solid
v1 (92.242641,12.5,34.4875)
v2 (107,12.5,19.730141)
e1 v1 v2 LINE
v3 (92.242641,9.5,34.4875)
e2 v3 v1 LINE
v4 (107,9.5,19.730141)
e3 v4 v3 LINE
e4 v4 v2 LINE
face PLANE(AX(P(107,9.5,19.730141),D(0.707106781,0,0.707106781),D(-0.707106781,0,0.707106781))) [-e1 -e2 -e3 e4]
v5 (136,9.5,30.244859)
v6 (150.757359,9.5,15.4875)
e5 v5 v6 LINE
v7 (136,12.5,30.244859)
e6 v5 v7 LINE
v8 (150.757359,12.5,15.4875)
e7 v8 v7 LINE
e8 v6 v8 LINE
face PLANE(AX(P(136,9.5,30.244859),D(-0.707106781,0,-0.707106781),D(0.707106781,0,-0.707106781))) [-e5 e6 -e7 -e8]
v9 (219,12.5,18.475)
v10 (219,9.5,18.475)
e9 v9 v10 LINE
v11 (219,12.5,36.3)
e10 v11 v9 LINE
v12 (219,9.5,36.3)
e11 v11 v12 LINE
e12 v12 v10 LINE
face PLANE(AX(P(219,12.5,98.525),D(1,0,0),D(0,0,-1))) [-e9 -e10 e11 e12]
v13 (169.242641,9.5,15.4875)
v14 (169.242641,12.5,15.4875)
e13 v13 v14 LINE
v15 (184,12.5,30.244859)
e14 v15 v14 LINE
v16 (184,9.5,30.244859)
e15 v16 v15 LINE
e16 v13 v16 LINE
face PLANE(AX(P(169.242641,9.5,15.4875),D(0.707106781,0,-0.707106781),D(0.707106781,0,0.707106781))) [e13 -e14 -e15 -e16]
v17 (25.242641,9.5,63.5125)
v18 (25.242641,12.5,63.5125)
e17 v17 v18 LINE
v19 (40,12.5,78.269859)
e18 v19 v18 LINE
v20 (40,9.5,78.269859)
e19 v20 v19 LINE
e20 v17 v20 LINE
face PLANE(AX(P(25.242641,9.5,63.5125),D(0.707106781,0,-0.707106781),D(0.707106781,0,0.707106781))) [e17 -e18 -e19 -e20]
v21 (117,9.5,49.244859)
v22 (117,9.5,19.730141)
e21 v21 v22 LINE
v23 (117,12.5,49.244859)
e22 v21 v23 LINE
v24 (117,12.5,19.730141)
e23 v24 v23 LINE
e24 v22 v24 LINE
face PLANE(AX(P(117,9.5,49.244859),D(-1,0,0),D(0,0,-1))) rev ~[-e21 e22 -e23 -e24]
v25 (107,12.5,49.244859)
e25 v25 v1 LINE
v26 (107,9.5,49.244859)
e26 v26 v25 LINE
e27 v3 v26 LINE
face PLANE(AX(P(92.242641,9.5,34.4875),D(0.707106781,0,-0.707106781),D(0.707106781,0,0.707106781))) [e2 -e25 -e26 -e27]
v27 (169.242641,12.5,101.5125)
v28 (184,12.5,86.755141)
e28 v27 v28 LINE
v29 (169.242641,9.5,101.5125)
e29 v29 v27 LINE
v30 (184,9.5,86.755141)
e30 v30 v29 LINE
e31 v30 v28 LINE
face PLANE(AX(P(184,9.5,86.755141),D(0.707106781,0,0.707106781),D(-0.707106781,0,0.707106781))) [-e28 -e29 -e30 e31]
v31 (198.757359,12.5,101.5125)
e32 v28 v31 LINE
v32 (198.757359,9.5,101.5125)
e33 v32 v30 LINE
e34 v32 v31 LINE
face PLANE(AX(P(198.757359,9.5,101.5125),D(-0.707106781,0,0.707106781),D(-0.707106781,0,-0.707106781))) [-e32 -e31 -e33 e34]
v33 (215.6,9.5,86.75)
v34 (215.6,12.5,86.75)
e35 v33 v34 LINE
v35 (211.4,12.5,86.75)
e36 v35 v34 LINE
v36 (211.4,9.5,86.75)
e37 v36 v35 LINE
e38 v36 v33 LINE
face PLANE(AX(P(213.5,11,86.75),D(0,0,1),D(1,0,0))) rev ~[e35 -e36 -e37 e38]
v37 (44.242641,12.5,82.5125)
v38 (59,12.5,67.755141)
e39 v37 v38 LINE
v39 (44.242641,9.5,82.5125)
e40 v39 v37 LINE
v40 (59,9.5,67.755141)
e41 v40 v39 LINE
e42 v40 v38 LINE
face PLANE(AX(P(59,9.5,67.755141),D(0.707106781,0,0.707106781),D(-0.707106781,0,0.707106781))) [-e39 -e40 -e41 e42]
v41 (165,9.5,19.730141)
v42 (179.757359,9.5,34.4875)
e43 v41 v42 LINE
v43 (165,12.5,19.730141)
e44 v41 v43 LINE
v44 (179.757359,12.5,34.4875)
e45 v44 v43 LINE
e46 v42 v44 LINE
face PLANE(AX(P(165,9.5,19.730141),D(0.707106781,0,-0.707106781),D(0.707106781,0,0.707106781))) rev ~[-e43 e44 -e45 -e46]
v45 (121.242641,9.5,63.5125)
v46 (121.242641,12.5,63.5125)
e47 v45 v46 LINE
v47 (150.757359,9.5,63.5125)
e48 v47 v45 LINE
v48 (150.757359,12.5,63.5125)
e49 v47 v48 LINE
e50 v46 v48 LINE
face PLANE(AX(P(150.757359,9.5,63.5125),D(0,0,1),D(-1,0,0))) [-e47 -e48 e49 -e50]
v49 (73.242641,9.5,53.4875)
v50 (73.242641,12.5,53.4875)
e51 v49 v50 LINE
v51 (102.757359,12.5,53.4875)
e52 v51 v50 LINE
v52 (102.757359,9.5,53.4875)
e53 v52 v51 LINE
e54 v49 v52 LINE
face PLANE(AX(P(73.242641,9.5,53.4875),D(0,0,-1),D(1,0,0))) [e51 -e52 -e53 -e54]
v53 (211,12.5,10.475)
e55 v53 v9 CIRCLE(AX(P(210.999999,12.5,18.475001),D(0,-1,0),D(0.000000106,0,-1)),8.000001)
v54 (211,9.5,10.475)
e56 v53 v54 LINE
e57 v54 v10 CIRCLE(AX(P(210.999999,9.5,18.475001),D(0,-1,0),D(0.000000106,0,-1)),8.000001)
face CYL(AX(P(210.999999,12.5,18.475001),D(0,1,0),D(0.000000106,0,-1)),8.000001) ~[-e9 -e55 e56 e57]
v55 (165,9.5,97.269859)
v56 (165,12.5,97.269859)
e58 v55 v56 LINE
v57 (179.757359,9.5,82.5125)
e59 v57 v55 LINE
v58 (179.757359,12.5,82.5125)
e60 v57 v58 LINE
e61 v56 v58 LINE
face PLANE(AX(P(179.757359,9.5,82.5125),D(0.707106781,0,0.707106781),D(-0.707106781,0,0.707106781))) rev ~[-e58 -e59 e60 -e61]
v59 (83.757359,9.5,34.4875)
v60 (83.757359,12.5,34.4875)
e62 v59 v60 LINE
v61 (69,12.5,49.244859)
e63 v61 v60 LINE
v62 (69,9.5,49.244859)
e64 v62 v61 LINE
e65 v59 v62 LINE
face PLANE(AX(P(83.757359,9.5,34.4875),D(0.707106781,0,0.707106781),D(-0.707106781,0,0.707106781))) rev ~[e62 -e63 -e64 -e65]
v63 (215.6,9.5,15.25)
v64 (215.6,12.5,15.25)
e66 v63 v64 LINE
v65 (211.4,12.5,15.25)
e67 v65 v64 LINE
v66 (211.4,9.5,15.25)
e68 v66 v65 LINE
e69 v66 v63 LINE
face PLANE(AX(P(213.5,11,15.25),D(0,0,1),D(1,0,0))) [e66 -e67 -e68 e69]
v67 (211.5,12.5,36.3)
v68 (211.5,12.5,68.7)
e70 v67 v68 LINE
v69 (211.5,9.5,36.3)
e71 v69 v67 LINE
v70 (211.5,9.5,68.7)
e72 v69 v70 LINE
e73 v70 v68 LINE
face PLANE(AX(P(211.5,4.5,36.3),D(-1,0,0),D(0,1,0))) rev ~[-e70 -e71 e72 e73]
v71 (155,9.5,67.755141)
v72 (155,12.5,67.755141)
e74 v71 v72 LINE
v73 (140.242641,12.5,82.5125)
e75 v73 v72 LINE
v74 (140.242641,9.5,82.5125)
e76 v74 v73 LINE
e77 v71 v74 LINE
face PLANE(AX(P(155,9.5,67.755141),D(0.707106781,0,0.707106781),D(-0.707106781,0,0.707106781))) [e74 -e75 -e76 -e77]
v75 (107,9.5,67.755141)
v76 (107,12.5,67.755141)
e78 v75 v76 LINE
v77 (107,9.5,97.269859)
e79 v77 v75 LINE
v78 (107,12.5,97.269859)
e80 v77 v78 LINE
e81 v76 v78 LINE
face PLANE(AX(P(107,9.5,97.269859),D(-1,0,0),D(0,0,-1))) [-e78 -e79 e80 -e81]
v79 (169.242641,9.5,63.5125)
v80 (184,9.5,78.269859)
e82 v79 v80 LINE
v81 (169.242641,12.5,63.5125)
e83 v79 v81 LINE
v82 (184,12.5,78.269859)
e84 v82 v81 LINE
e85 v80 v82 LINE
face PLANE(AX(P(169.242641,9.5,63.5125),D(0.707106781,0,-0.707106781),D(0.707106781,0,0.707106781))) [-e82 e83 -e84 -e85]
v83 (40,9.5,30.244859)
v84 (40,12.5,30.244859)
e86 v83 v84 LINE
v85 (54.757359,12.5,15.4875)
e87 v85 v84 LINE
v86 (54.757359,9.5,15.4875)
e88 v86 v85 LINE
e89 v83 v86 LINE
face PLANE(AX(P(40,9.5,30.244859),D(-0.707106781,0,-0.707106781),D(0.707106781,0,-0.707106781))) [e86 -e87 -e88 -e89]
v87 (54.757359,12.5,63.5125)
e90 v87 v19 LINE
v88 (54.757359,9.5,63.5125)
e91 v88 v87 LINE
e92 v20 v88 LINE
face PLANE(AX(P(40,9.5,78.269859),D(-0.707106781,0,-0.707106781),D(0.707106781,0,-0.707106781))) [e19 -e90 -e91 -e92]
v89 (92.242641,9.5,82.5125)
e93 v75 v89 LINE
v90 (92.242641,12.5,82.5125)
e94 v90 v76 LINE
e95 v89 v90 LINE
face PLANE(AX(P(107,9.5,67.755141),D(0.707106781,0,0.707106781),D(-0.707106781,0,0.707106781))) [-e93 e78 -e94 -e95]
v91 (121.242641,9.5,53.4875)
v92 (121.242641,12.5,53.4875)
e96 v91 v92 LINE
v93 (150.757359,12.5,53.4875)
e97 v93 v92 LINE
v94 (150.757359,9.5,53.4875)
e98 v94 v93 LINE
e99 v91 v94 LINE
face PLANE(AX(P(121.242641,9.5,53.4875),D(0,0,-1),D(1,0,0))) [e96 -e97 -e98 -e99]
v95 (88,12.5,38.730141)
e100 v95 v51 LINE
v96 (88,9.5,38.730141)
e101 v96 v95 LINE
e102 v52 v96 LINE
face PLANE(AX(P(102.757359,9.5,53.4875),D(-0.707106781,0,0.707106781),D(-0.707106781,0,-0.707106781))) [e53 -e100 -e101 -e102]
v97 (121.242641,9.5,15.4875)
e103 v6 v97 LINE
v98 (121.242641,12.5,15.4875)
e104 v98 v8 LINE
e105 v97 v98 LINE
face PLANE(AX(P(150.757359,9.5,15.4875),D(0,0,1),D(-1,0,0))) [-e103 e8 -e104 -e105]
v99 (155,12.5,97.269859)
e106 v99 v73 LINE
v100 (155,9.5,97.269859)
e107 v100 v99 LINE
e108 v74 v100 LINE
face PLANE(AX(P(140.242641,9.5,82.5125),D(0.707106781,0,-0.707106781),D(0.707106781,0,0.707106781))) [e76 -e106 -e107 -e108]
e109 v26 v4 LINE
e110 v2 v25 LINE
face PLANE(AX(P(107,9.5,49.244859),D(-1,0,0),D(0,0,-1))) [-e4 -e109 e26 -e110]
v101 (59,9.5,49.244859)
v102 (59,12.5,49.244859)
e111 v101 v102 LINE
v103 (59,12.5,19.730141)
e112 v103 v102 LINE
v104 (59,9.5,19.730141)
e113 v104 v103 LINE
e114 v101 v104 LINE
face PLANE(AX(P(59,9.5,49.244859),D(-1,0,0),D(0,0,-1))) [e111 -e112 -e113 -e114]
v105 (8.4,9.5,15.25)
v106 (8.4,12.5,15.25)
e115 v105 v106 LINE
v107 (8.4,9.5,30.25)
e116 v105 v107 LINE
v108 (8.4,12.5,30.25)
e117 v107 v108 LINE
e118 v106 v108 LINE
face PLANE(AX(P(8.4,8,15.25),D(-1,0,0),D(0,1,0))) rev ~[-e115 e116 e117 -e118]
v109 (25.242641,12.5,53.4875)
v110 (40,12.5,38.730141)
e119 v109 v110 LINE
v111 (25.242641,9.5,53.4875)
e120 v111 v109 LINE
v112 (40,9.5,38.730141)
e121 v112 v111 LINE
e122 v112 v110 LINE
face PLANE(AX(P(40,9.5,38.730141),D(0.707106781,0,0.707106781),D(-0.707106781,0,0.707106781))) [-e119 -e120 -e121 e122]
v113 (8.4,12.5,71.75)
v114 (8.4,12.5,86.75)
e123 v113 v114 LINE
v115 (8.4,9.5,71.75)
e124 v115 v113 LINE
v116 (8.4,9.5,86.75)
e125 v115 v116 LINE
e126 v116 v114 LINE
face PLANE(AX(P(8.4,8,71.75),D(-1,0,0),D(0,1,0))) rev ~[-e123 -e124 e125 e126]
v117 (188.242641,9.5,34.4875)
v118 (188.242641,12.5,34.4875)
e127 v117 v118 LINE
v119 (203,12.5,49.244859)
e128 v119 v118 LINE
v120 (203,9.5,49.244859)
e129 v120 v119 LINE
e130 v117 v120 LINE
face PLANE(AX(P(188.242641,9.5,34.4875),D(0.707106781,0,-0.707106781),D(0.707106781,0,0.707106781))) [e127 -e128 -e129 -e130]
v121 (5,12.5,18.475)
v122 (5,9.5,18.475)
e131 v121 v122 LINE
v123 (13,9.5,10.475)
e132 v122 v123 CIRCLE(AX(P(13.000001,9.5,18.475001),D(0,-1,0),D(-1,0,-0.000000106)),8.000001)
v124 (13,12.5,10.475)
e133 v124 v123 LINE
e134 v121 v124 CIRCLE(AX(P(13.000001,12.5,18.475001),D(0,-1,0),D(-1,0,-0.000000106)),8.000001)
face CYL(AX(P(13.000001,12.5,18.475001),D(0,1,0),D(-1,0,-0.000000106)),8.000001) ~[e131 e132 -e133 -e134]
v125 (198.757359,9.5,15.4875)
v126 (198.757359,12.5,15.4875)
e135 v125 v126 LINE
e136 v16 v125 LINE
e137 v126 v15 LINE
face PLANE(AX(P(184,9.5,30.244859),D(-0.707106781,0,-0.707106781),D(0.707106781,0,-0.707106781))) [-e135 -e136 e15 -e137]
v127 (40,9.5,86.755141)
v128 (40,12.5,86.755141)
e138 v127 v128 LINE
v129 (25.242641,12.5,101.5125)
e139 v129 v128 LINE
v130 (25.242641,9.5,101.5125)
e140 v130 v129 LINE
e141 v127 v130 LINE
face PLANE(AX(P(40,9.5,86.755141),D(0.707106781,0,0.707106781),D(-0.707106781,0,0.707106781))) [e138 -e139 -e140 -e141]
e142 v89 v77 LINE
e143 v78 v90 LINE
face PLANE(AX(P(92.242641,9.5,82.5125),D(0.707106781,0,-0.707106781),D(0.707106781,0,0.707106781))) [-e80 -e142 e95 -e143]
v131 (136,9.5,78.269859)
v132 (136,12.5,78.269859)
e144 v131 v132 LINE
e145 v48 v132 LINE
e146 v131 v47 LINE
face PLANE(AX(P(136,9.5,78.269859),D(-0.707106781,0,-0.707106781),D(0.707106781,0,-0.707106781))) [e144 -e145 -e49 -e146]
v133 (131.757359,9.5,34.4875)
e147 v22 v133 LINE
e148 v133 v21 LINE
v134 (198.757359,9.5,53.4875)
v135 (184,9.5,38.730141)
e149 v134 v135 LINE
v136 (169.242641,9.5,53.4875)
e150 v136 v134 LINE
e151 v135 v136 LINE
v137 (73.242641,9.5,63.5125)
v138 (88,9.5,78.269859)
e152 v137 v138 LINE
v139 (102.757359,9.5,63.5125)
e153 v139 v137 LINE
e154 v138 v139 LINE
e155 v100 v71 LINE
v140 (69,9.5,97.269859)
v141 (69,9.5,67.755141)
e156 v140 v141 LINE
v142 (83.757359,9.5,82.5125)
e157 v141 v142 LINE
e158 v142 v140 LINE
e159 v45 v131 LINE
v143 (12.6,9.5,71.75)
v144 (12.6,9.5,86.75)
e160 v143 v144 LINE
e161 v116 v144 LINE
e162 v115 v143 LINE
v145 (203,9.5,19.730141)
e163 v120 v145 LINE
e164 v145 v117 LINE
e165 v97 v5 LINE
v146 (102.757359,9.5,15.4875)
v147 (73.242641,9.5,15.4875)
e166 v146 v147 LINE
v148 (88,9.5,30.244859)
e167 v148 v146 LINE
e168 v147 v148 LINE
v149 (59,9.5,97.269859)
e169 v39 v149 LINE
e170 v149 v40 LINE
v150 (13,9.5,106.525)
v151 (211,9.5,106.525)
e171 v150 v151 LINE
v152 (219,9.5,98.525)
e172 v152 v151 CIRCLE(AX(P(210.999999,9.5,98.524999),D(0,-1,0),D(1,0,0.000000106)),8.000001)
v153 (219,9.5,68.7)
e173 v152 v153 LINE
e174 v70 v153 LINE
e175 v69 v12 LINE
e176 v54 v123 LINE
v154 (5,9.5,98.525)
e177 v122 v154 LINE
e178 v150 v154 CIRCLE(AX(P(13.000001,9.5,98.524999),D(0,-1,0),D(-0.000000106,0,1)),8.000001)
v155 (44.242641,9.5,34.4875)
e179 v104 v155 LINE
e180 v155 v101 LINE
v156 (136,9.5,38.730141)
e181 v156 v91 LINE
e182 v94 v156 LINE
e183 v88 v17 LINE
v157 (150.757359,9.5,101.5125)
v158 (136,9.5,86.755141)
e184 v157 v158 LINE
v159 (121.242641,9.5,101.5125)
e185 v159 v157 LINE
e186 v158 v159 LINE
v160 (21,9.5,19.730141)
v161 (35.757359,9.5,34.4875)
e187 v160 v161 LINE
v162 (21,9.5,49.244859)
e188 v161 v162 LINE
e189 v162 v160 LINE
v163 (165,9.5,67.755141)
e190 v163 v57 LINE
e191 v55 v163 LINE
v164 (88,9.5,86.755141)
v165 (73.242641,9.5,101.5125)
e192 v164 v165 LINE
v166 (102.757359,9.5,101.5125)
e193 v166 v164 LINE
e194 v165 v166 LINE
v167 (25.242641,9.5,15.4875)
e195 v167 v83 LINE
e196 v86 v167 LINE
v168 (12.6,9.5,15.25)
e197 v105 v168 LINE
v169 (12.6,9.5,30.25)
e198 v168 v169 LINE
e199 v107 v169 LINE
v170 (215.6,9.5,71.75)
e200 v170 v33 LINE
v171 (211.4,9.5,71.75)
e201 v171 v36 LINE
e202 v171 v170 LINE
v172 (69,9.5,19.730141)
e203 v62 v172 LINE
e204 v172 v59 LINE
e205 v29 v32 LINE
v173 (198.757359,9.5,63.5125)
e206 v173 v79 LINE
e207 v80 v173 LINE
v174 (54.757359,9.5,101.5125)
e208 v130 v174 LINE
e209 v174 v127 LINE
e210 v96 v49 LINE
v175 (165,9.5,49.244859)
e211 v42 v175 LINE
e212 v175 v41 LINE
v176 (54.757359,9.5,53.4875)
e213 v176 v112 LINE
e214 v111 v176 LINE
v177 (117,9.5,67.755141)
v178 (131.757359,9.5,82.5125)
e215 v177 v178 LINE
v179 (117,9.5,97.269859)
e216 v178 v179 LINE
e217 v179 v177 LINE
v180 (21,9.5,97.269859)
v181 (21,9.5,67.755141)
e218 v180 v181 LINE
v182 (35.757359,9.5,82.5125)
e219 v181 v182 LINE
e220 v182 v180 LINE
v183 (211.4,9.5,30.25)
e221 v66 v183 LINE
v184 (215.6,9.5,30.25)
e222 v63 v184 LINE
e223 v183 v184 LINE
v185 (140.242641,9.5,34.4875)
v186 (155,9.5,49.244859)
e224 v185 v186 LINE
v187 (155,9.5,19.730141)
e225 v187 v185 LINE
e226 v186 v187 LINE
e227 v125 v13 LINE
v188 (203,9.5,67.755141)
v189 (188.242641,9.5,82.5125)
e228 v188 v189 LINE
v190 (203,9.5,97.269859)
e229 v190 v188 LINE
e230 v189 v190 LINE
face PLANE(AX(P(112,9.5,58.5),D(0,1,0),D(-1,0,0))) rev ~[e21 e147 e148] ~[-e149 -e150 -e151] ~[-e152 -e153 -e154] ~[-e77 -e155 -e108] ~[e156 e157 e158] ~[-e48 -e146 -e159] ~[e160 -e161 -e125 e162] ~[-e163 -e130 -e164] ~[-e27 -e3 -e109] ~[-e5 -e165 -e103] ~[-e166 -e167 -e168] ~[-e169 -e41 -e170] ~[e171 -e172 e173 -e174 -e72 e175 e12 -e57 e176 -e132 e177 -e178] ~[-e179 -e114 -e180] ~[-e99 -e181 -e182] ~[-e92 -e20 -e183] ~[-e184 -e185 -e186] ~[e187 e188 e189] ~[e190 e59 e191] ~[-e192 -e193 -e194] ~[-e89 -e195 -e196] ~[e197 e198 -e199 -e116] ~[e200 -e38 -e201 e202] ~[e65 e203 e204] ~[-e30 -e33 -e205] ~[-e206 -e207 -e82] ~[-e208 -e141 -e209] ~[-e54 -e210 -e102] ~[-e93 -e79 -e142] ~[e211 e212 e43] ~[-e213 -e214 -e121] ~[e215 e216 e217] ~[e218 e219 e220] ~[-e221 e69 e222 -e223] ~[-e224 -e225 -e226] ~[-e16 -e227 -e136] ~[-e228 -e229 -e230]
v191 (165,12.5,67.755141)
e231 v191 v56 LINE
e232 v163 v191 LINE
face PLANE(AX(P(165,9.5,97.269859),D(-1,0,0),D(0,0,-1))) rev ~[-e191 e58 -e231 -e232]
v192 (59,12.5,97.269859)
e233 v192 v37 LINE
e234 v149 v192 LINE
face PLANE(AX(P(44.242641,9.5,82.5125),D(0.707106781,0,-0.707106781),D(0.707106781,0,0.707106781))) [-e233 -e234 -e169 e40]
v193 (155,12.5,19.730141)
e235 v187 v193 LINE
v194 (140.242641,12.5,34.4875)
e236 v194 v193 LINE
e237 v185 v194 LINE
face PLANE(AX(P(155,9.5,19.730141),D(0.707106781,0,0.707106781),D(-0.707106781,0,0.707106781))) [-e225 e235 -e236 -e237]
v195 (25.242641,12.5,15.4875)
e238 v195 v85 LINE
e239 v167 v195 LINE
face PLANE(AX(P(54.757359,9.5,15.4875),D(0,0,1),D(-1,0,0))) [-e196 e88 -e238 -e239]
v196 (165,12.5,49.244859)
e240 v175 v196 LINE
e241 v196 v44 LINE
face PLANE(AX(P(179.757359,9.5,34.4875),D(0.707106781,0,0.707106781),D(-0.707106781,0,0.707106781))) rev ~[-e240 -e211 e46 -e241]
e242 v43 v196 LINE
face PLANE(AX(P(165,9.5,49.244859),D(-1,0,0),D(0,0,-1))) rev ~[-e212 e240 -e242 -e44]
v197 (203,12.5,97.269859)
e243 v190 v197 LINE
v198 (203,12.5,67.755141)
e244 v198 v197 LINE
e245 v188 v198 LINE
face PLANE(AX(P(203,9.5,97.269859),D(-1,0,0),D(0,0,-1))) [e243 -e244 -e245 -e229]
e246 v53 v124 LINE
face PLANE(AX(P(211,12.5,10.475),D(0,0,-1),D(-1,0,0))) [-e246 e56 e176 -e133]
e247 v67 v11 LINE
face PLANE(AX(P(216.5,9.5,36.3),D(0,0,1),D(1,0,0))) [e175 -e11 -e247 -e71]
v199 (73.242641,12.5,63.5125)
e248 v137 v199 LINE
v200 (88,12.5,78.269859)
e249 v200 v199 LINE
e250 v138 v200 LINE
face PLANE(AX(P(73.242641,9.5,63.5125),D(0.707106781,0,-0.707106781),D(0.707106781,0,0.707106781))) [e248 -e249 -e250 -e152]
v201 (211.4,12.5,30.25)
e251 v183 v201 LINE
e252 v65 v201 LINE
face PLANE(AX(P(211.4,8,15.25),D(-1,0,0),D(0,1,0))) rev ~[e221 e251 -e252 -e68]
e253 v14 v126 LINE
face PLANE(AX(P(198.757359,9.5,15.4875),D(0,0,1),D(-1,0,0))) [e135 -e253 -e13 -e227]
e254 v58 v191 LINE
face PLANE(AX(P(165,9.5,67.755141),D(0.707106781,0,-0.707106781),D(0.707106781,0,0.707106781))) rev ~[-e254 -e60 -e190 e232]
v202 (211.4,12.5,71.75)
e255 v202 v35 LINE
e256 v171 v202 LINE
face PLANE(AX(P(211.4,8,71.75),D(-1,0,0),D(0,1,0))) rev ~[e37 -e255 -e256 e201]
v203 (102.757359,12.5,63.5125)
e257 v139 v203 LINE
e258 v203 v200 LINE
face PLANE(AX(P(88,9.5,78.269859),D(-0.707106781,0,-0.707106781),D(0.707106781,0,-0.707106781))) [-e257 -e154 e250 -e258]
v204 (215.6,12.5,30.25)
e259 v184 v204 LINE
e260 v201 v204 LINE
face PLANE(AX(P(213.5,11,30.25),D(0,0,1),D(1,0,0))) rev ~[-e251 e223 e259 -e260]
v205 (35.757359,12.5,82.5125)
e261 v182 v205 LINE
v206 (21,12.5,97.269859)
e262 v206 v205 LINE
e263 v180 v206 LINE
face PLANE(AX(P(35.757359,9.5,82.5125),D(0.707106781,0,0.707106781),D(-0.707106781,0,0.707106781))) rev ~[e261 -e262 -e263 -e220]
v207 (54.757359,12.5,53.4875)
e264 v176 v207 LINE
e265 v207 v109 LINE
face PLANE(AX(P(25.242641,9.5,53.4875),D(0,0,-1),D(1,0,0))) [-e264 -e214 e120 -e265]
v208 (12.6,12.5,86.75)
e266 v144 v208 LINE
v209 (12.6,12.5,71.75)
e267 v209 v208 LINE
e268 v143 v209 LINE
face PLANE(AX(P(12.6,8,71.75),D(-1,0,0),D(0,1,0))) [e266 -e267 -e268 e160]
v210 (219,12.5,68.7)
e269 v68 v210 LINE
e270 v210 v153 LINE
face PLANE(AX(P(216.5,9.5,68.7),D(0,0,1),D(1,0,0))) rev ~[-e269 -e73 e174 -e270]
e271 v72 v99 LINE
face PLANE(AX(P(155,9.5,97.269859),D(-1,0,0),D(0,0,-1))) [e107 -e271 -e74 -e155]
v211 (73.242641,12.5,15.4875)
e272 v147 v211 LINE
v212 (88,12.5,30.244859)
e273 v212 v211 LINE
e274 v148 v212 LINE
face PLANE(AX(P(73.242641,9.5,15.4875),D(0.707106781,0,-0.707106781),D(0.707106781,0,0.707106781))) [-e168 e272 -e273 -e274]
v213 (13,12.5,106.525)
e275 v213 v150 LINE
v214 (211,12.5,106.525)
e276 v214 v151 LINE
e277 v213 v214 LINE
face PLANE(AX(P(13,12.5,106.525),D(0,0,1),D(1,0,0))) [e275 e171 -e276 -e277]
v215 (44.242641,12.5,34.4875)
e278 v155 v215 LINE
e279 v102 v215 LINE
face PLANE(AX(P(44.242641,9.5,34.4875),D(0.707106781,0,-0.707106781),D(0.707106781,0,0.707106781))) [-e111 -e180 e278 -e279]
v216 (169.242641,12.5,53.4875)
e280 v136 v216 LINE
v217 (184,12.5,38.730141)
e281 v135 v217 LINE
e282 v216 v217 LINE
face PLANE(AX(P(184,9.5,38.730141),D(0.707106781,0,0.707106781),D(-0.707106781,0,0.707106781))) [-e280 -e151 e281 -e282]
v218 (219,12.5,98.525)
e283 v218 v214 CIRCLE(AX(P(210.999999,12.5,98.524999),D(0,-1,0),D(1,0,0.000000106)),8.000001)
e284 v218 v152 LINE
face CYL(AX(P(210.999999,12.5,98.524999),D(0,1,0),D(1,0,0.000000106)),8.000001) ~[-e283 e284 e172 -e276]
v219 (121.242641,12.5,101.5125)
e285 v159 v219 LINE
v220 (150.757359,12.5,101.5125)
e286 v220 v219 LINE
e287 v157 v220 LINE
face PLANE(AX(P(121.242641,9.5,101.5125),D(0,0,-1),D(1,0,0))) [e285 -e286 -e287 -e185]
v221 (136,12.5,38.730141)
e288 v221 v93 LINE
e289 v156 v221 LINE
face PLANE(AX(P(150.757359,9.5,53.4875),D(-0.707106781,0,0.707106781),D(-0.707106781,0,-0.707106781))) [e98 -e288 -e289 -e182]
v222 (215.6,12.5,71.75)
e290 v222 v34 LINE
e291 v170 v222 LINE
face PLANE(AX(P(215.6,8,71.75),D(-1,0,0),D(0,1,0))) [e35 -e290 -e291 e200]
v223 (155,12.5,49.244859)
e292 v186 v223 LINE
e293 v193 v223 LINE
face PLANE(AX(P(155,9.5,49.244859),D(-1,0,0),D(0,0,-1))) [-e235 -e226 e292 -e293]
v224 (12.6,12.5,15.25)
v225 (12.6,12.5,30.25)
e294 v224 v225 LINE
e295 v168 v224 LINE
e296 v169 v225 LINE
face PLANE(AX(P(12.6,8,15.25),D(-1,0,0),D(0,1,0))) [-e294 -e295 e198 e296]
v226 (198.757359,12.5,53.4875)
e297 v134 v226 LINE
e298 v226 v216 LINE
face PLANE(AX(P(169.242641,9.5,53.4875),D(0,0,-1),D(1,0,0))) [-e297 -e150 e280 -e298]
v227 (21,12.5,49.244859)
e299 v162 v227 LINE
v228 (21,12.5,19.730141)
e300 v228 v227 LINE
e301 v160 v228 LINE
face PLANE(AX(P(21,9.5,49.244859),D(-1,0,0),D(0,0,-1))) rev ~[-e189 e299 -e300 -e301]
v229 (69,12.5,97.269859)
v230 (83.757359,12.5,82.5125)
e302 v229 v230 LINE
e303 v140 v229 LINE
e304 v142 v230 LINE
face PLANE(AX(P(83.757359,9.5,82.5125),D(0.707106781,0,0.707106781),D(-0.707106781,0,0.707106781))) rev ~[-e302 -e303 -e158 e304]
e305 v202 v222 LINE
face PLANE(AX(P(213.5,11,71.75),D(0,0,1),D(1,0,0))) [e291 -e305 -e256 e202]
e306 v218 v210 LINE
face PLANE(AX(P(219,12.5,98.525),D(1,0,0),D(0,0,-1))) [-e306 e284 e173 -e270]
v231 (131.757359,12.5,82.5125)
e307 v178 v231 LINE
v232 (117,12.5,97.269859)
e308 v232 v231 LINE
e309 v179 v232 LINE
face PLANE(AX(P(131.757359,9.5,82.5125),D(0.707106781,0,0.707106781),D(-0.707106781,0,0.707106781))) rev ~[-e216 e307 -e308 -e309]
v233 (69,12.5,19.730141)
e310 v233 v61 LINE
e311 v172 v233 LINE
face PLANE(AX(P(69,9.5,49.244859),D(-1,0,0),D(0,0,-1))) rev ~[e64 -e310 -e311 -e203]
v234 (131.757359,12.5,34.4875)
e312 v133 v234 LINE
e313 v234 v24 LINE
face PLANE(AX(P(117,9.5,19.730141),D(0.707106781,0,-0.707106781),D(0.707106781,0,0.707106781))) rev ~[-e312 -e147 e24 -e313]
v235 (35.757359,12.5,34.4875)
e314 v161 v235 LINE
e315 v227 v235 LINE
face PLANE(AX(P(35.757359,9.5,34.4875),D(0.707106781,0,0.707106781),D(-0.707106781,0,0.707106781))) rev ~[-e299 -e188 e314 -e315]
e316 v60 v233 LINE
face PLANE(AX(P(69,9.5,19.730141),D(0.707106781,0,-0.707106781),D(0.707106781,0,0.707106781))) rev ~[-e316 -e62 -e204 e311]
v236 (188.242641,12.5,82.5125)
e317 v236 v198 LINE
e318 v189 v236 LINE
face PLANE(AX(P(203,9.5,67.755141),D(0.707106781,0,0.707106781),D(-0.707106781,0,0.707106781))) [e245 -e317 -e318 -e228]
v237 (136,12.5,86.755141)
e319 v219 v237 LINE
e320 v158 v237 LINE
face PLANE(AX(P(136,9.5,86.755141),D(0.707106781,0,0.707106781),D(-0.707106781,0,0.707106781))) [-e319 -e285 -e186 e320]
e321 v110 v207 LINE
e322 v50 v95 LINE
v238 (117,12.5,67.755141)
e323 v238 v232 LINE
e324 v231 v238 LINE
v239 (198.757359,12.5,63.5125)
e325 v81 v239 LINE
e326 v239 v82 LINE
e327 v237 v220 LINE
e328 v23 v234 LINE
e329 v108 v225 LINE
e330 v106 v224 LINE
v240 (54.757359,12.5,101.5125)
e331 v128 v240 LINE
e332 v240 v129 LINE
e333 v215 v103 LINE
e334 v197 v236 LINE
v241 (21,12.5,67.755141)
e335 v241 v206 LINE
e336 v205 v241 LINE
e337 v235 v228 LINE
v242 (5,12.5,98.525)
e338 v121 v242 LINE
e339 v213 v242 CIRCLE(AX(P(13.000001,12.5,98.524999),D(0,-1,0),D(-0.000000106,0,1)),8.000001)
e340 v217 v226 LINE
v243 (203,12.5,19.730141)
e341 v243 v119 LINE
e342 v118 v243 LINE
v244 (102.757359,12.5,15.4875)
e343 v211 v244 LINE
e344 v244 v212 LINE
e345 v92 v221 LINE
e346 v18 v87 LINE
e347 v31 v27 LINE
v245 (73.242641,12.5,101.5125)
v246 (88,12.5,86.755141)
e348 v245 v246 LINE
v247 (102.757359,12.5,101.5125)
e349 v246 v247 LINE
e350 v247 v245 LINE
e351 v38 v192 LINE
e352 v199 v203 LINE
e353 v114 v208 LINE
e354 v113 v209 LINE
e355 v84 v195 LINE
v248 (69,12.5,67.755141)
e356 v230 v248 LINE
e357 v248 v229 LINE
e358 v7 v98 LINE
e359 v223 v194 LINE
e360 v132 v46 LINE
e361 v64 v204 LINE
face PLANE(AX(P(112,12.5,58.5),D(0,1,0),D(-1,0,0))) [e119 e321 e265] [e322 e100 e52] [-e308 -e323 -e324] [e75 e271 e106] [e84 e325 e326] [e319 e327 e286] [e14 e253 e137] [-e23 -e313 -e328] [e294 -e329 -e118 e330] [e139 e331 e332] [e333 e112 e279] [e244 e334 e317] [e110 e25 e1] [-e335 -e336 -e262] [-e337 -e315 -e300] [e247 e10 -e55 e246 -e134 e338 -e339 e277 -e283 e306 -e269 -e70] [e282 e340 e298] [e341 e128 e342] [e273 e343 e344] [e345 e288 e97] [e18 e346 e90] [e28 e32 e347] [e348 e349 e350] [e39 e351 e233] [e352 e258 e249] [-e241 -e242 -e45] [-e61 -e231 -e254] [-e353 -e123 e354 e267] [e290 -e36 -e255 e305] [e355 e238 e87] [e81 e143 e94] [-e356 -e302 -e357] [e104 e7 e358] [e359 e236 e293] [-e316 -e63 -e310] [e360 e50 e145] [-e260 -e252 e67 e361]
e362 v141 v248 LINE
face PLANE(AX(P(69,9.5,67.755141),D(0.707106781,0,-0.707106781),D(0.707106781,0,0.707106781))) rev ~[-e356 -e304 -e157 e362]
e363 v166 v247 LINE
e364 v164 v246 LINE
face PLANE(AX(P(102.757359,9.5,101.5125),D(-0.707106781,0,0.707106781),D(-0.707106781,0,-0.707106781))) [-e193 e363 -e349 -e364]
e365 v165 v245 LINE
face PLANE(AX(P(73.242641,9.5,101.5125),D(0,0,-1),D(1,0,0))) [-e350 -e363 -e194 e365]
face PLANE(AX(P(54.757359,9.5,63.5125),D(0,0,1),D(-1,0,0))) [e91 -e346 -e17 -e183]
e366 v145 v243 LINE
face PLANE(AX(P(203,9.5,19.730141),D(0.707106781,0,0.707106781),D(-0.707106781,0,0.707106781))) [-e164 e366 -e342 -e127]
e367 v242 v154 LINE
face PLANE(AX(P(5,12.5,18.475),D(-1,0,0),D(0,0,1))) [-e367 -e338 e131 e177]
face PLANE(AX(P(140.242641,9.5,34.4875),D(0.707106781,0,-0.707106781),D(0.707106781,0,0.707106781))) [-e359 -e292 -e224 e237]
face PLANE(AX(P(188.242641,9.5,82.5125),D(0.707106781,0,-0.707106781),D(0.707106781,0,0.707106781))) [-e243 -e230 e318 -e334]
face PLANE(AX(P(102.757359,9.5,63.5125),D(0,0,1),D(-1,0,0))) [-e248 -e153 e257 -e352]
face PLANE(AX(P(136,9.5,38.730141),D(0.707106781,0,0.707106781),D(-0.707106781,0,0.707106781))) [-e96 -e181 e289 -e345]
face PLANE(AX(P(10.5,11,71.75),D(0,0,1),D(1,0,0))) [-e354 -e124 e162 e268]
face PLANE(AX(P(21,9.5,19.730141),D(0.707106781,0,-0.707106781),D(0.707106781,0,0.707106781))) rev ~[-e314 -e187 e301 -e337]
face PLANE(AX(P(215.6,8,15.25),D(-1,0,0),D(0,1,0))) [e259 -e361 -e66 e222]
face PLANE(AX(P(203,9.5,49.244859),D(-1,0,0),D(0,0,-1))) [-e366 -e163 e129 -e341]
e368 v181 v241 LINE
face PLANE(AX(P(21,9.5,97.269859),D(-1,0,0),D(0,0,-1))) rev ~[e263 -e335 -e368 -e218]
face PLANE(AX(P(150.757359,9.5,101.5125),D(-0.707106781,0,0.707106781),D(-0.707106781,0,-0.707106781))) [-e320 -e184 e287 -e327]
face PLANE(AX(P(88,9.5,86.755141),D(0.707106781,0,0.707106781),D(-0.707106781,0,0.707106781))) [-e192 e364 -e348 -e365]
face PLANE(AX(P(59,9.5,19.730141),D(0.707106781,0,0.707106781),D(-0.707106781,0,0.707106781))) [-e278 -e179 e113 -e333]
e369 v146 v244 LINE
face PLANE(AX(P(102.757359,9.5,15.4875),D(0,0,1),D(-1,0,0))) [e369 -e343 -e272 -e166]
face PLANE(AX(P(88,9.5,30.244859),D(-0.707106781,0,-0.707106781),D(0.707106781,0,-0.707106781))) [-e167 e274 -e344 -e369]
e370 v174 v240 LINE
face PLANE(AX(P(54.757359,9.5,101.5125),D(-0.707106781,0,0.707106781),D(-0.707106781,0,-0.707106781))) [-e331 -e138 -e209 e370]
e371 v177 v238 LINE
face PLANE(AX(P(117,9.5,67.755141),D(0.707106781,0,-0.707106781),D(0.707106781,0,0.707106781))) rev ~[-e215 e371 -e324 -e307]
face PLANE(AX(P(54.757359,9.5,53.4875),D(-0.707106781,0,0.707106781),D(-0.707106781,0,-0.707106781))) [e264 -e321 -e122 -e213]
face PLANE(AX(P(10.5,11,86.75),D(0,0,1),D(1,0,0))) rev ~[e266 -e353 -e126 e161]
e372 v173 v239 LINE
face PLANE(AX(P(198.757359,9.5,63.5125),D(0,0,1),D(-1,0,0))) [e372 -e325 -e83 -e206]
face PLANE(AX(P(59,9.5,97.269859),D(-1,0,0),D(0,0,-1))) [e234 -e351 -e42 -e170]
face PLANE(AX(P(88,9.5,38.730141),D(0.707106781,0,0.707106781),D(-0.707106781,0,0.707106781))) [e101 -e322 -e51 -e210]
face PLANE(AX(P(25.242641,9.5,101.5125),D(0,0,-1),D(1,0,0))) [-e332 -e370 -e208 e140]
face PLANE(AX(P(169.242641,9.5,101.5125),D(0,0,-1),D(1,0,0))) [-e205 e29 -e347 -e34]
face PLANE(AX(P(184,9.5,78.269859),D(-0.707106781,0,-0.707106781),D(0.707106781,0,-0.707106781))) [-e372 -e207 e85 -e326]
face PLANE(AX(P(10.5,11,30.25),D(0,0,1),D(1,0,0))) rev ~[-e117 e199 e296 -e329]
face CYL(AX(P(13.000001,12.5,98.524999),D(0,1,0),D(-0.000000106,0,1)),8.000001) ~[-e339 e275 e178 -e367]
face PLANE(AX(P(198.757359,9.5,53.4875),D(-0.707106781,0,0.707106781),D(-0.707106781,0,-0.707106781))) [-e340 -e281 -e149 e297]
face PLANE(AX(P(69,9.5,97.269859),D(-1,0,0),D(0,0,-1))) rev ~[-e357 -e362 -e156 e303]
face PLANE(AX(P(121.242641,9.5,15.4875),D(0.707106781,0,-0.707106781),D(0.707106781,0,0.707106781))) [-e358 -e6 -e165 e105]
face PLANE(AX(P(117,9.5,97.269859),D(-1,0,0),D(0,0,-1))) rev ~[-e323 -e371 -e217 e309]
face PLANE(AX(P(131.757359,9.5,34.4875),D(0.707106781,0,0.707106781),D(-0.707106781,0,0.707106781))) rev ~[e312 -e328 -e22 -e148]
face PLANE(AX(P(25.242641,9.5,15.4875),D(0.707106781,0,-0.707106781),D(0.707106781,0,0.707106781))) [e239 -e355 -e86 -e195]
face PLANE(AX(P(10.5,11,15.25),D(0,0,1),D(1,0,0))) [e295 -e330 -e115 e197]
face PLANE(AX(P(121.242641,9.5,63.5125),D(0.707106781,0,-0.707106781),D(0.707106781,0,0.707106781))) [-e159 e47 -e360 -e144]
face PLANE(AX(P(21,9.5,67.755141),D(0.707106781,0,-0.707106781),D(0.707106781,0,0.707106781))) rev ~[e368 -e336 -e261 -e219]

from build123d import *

# Parameters (mm, degrees)
BOX021_W                     = 4.2
BOX021_H                     = 6
BOX021_DEPTH                 = 15
BOX020_W                     = 4.2
BOX020_H                     = 6
BOX020_DEPTH                 = 15
BOX019_W                     = 4.2
BOX019_H                     = 6
BOX019_DEPTH                 = 15
BOX018_W                     = 4.2
BOX018_H                     = 6
BOX018_DEPTH                 = 15
BOX017_W                     = 10
BOX017_H                     = 10
BOX017_DEPTH                 = 32.4
PAD_DEPTH                    = 3
POCKET_DEPTH                 = 472.173047
POCKET_LINEARPATTERN_2_DEPTH = 472.173047
POCKET_LINEARPATTERN_3_DEPTH = 472.173047
POCKET_LINEARPATTERN_4_DEPTH = 472.173047
LINEARPATTERN001_COUNT       = 2
LINEARPATTERN001_PITCH       = 48.025


with BuildPart() as brsupportopening:
    # Box021 → Box021 (new body)
    with BuildSketch(Plane(origin=(211.4, 8, 15.25), x_dir=(1, 0, 0), z_dir=(0, 0, 1))):
        with Locations((2.1, 3)):
            Rectangle(BOX021_W, BOX021_H)
    extrude(amount=BOX021_DEPTH)


with BuildPart() as blsupportopening:
    # Box020 → Box020 (new body)
    with BuildSketch(Plane(origin=(8.4, 8, 15.25), x_dir=(1, 0, 0), z_dir=(0, 0, 1))):
        with Locations((2.1, 3)):
            Rectangle(BOX020_W, BOX020_H)
    extrude(amount=BOX020_DEPTH)


with BuildPart() as tlsupportopening:
    # Box019 → Box019 (new body)
    with BuildSketch(Plane(origin=(8.4, 8, 71.75), x_dir=(1, 0, 0), z_dir=(0, 0, 1))):
        with Locations((2.1, 3)):
            Rectangle(BOX019_W, BOX019_H)
    extrude(amount=BOX019_DEPTH)


with BuildPart() as trsupportopening:
    # Box018 → Box018 (new body)
    with BuildSketch(Plane(origin=(211.4, 8, 71.75), x_dir=(1, 0, 0), z_dir=(0, 0, 1))):
        with Locations((2.1, 3)):
            Rectangle(BOX018_W, BOX018_H)
    extrude(amount=BOX018_DEPTH)


with BuildPart() as usbopening:
    # Box017 → Box017 (new body)
    with BuildSketch(Plane(origin=(211.5, 4.5, 36.3), x_dir=(1, 0, 0), z_dir=(0, 0, 1))):
        with Locations((5, 5)):
            Rectangle(BOX017_W, BOX017_H)
    extrude(amount=BOX017_DEPTH)


with BuildPart() as pocketed_back:
    # Sketch005 → Pad (new body)
    with BuildSketch(Plane.XZ):
        with BuildLine():
            Line((-99, 48.025), (99, 48.025))
            ThreePointArc((107, 40.025), (104.656854, 45.681854), (99, 48.025))
            Line((107, 40.025), (107, -40.025))
            ThreePointArc((99, -48.025), (104.656854, -45.681854), (107, -40.025))
            Line((99, -48.025), (-99, -48.025))
            ThreePointArc((-107, -40.025), (-104.656854, -45.681854), (-99, -48.025))
            Line((-107, -40.025), (-107, 40.025))
            ThreePointArc((-99, 48.025), (-104.656854, 45.681854), (-107, 40.025))
        make_face()
    extrude(amount=PAD_DEPTH)

    # Sketch006 (on Face10 of Pad) → Pocket (cut, through all)
    with BuildSketch(Plane.XZ.offset(3)):
        Polygon((-91, 38.769859), (-91, 9.255141), (-76.242641, 24.0125), align=None)
        Polygon((-86.757359, 43.0125), (-57.242641, 43.0125), (-72, 28.255141), align=None)
        Polygon((-67.757359, 24.0125), (-53, 38.769859), (-53, 9.255141), align=None)
        Polygon((-72, 19.769859), (-57.242641, 5.0125), (-86.757359, 5.0125), align=None)
    pocket = extrude(amount=-POCKET_DEPTH, mode=Mode.SUBTRACT)

    # Sketch006 LinearPattern 2 → Pocket LinearPattern 2 (cut, through all)
    with BuildSketch(Plane(origin=(48, -3, 0), x_dir=(1, 0, 0), z_dir=(0, -1, 0))):
        Polygon((-91, 38.769859), (-91, 9.255141), (-76.242641, 24.0125), align=None)
        Polygon((-86.757359, 43.0125), (-57.242641, 43.0125), (-72, 28.255141), align=None)
        Polygon((-67.757359, 24.0125), (-53, 38.769859), (-53, 9.255141), align=None)
        Polygon((-72, 19.769859), (-57.242641, 5.0125), (-86.757359, 5.0125), align=None)
    pocket_linearpattern_2 = extrude(amount=-POCKET_LINEARPATTERN_2_DEPTH, mode=Mode.SUBTRACT)

    # Sketch006 LinearPattern 3 → Pocket LinearPattern 3 (cut, through all)
    with BuildSketch(Plane(origin=(96, -3, 0), x_dir=(1, 0, 0), z_dir=(0, -1, 0))):
        Polygon((-91, 38.769859), (-91, 9.255141), (-76.242641, 24.0125), align=None)
        Polygon((-86.757359, 43.0125), (-57.242641, 43.0125), (-72, 28.255141), align=None)
        Polygon((-67.757359, 24.0125), (-53, 38.769859), (-53, 9.255141), align=None)
        Polygon((-72, 19.769859), (-57.242641, 5.0125), (-86.757359, 5.0125), align=None)
    pocket_linearpattern_3 = extrude(amount=-POCKET_LINEARPATTERN_3_DEPTH, mode=Mode.SUBTRACT)

    # Sketch006 LinearPattern 4 → Pocket LinearPattern 4 (cut, through all)
    with BuildSketch(Plane(origin=(144, -3, 0), x_dir=(1, 0, 0), z_dir=(0, -1, 0))):
        Polygon((-91, 38.769859), (-91, 9.255141), (-76.242641, 24.0125), align=None)
        Polygon((-86.757359, 43.0125), (-57.242641, 43.0125), (-72, 28.255141), align=None)
        Polygon((-67.757359, 24.0125), (-53, 38.769859), (-53, 9.255141), align=None)
        Polygon((-72, 19.769859), (-57.242641, 5.0125), (-86.757359, 5.0125), align=None)
    pocket_linearpattern_4 = extrude(amount=-POCKET_LINEARPATTERN_4_DEPTH, mode=Mode.SUBTRACT)

    # LinearPattern001: Pocket, Pocket LinearPattern 2, Pocket LinearPattern 3, Pocket LinearPattern 4 ×2
    with Locations(*[(0, 0, -i * LINEARPATTERN001_PITCH) for i in range(1, LINEARPATTERN001_COUNT)]):
        add(pocket, mode=Mode.SUBTRACT)
        add(pocket_linearpattern_2, mode=Mode.SUBTRACT)
        add(pocket_linearpattern_3, mode=Mode.SUBTRACT)
        add(pocket_linearpattern_4, mode=Mode.SUBTRACT)


with BuildPart() as pocketed_back_1:
    # Body placement: moved
    add(pocketed_back.part.moved(Location((112, 12.5, 58.5))))

    # Cut010: cut USBOpening
    add(usbopening.part, mode=Mode.SUBTRACT)

    # Cut011: cut TRSupportOpening
    add(trsupportopening.part, mode=Mode.SUBTRACT)

    # Cut012: cut TLSupportOpening
    add(tlsupportopening.part, mode=Mode.SUBTRACT)

    # Cut013: cut BLSupportOpening
    add(blsupportopening.part, mode=Mode.SUBTRACT)

    # Cut014: cut BRSupportOpening
    add(brsupportopening.part, mode=Mode.SUBTRACT)


solid = pocketed_back_1.part
